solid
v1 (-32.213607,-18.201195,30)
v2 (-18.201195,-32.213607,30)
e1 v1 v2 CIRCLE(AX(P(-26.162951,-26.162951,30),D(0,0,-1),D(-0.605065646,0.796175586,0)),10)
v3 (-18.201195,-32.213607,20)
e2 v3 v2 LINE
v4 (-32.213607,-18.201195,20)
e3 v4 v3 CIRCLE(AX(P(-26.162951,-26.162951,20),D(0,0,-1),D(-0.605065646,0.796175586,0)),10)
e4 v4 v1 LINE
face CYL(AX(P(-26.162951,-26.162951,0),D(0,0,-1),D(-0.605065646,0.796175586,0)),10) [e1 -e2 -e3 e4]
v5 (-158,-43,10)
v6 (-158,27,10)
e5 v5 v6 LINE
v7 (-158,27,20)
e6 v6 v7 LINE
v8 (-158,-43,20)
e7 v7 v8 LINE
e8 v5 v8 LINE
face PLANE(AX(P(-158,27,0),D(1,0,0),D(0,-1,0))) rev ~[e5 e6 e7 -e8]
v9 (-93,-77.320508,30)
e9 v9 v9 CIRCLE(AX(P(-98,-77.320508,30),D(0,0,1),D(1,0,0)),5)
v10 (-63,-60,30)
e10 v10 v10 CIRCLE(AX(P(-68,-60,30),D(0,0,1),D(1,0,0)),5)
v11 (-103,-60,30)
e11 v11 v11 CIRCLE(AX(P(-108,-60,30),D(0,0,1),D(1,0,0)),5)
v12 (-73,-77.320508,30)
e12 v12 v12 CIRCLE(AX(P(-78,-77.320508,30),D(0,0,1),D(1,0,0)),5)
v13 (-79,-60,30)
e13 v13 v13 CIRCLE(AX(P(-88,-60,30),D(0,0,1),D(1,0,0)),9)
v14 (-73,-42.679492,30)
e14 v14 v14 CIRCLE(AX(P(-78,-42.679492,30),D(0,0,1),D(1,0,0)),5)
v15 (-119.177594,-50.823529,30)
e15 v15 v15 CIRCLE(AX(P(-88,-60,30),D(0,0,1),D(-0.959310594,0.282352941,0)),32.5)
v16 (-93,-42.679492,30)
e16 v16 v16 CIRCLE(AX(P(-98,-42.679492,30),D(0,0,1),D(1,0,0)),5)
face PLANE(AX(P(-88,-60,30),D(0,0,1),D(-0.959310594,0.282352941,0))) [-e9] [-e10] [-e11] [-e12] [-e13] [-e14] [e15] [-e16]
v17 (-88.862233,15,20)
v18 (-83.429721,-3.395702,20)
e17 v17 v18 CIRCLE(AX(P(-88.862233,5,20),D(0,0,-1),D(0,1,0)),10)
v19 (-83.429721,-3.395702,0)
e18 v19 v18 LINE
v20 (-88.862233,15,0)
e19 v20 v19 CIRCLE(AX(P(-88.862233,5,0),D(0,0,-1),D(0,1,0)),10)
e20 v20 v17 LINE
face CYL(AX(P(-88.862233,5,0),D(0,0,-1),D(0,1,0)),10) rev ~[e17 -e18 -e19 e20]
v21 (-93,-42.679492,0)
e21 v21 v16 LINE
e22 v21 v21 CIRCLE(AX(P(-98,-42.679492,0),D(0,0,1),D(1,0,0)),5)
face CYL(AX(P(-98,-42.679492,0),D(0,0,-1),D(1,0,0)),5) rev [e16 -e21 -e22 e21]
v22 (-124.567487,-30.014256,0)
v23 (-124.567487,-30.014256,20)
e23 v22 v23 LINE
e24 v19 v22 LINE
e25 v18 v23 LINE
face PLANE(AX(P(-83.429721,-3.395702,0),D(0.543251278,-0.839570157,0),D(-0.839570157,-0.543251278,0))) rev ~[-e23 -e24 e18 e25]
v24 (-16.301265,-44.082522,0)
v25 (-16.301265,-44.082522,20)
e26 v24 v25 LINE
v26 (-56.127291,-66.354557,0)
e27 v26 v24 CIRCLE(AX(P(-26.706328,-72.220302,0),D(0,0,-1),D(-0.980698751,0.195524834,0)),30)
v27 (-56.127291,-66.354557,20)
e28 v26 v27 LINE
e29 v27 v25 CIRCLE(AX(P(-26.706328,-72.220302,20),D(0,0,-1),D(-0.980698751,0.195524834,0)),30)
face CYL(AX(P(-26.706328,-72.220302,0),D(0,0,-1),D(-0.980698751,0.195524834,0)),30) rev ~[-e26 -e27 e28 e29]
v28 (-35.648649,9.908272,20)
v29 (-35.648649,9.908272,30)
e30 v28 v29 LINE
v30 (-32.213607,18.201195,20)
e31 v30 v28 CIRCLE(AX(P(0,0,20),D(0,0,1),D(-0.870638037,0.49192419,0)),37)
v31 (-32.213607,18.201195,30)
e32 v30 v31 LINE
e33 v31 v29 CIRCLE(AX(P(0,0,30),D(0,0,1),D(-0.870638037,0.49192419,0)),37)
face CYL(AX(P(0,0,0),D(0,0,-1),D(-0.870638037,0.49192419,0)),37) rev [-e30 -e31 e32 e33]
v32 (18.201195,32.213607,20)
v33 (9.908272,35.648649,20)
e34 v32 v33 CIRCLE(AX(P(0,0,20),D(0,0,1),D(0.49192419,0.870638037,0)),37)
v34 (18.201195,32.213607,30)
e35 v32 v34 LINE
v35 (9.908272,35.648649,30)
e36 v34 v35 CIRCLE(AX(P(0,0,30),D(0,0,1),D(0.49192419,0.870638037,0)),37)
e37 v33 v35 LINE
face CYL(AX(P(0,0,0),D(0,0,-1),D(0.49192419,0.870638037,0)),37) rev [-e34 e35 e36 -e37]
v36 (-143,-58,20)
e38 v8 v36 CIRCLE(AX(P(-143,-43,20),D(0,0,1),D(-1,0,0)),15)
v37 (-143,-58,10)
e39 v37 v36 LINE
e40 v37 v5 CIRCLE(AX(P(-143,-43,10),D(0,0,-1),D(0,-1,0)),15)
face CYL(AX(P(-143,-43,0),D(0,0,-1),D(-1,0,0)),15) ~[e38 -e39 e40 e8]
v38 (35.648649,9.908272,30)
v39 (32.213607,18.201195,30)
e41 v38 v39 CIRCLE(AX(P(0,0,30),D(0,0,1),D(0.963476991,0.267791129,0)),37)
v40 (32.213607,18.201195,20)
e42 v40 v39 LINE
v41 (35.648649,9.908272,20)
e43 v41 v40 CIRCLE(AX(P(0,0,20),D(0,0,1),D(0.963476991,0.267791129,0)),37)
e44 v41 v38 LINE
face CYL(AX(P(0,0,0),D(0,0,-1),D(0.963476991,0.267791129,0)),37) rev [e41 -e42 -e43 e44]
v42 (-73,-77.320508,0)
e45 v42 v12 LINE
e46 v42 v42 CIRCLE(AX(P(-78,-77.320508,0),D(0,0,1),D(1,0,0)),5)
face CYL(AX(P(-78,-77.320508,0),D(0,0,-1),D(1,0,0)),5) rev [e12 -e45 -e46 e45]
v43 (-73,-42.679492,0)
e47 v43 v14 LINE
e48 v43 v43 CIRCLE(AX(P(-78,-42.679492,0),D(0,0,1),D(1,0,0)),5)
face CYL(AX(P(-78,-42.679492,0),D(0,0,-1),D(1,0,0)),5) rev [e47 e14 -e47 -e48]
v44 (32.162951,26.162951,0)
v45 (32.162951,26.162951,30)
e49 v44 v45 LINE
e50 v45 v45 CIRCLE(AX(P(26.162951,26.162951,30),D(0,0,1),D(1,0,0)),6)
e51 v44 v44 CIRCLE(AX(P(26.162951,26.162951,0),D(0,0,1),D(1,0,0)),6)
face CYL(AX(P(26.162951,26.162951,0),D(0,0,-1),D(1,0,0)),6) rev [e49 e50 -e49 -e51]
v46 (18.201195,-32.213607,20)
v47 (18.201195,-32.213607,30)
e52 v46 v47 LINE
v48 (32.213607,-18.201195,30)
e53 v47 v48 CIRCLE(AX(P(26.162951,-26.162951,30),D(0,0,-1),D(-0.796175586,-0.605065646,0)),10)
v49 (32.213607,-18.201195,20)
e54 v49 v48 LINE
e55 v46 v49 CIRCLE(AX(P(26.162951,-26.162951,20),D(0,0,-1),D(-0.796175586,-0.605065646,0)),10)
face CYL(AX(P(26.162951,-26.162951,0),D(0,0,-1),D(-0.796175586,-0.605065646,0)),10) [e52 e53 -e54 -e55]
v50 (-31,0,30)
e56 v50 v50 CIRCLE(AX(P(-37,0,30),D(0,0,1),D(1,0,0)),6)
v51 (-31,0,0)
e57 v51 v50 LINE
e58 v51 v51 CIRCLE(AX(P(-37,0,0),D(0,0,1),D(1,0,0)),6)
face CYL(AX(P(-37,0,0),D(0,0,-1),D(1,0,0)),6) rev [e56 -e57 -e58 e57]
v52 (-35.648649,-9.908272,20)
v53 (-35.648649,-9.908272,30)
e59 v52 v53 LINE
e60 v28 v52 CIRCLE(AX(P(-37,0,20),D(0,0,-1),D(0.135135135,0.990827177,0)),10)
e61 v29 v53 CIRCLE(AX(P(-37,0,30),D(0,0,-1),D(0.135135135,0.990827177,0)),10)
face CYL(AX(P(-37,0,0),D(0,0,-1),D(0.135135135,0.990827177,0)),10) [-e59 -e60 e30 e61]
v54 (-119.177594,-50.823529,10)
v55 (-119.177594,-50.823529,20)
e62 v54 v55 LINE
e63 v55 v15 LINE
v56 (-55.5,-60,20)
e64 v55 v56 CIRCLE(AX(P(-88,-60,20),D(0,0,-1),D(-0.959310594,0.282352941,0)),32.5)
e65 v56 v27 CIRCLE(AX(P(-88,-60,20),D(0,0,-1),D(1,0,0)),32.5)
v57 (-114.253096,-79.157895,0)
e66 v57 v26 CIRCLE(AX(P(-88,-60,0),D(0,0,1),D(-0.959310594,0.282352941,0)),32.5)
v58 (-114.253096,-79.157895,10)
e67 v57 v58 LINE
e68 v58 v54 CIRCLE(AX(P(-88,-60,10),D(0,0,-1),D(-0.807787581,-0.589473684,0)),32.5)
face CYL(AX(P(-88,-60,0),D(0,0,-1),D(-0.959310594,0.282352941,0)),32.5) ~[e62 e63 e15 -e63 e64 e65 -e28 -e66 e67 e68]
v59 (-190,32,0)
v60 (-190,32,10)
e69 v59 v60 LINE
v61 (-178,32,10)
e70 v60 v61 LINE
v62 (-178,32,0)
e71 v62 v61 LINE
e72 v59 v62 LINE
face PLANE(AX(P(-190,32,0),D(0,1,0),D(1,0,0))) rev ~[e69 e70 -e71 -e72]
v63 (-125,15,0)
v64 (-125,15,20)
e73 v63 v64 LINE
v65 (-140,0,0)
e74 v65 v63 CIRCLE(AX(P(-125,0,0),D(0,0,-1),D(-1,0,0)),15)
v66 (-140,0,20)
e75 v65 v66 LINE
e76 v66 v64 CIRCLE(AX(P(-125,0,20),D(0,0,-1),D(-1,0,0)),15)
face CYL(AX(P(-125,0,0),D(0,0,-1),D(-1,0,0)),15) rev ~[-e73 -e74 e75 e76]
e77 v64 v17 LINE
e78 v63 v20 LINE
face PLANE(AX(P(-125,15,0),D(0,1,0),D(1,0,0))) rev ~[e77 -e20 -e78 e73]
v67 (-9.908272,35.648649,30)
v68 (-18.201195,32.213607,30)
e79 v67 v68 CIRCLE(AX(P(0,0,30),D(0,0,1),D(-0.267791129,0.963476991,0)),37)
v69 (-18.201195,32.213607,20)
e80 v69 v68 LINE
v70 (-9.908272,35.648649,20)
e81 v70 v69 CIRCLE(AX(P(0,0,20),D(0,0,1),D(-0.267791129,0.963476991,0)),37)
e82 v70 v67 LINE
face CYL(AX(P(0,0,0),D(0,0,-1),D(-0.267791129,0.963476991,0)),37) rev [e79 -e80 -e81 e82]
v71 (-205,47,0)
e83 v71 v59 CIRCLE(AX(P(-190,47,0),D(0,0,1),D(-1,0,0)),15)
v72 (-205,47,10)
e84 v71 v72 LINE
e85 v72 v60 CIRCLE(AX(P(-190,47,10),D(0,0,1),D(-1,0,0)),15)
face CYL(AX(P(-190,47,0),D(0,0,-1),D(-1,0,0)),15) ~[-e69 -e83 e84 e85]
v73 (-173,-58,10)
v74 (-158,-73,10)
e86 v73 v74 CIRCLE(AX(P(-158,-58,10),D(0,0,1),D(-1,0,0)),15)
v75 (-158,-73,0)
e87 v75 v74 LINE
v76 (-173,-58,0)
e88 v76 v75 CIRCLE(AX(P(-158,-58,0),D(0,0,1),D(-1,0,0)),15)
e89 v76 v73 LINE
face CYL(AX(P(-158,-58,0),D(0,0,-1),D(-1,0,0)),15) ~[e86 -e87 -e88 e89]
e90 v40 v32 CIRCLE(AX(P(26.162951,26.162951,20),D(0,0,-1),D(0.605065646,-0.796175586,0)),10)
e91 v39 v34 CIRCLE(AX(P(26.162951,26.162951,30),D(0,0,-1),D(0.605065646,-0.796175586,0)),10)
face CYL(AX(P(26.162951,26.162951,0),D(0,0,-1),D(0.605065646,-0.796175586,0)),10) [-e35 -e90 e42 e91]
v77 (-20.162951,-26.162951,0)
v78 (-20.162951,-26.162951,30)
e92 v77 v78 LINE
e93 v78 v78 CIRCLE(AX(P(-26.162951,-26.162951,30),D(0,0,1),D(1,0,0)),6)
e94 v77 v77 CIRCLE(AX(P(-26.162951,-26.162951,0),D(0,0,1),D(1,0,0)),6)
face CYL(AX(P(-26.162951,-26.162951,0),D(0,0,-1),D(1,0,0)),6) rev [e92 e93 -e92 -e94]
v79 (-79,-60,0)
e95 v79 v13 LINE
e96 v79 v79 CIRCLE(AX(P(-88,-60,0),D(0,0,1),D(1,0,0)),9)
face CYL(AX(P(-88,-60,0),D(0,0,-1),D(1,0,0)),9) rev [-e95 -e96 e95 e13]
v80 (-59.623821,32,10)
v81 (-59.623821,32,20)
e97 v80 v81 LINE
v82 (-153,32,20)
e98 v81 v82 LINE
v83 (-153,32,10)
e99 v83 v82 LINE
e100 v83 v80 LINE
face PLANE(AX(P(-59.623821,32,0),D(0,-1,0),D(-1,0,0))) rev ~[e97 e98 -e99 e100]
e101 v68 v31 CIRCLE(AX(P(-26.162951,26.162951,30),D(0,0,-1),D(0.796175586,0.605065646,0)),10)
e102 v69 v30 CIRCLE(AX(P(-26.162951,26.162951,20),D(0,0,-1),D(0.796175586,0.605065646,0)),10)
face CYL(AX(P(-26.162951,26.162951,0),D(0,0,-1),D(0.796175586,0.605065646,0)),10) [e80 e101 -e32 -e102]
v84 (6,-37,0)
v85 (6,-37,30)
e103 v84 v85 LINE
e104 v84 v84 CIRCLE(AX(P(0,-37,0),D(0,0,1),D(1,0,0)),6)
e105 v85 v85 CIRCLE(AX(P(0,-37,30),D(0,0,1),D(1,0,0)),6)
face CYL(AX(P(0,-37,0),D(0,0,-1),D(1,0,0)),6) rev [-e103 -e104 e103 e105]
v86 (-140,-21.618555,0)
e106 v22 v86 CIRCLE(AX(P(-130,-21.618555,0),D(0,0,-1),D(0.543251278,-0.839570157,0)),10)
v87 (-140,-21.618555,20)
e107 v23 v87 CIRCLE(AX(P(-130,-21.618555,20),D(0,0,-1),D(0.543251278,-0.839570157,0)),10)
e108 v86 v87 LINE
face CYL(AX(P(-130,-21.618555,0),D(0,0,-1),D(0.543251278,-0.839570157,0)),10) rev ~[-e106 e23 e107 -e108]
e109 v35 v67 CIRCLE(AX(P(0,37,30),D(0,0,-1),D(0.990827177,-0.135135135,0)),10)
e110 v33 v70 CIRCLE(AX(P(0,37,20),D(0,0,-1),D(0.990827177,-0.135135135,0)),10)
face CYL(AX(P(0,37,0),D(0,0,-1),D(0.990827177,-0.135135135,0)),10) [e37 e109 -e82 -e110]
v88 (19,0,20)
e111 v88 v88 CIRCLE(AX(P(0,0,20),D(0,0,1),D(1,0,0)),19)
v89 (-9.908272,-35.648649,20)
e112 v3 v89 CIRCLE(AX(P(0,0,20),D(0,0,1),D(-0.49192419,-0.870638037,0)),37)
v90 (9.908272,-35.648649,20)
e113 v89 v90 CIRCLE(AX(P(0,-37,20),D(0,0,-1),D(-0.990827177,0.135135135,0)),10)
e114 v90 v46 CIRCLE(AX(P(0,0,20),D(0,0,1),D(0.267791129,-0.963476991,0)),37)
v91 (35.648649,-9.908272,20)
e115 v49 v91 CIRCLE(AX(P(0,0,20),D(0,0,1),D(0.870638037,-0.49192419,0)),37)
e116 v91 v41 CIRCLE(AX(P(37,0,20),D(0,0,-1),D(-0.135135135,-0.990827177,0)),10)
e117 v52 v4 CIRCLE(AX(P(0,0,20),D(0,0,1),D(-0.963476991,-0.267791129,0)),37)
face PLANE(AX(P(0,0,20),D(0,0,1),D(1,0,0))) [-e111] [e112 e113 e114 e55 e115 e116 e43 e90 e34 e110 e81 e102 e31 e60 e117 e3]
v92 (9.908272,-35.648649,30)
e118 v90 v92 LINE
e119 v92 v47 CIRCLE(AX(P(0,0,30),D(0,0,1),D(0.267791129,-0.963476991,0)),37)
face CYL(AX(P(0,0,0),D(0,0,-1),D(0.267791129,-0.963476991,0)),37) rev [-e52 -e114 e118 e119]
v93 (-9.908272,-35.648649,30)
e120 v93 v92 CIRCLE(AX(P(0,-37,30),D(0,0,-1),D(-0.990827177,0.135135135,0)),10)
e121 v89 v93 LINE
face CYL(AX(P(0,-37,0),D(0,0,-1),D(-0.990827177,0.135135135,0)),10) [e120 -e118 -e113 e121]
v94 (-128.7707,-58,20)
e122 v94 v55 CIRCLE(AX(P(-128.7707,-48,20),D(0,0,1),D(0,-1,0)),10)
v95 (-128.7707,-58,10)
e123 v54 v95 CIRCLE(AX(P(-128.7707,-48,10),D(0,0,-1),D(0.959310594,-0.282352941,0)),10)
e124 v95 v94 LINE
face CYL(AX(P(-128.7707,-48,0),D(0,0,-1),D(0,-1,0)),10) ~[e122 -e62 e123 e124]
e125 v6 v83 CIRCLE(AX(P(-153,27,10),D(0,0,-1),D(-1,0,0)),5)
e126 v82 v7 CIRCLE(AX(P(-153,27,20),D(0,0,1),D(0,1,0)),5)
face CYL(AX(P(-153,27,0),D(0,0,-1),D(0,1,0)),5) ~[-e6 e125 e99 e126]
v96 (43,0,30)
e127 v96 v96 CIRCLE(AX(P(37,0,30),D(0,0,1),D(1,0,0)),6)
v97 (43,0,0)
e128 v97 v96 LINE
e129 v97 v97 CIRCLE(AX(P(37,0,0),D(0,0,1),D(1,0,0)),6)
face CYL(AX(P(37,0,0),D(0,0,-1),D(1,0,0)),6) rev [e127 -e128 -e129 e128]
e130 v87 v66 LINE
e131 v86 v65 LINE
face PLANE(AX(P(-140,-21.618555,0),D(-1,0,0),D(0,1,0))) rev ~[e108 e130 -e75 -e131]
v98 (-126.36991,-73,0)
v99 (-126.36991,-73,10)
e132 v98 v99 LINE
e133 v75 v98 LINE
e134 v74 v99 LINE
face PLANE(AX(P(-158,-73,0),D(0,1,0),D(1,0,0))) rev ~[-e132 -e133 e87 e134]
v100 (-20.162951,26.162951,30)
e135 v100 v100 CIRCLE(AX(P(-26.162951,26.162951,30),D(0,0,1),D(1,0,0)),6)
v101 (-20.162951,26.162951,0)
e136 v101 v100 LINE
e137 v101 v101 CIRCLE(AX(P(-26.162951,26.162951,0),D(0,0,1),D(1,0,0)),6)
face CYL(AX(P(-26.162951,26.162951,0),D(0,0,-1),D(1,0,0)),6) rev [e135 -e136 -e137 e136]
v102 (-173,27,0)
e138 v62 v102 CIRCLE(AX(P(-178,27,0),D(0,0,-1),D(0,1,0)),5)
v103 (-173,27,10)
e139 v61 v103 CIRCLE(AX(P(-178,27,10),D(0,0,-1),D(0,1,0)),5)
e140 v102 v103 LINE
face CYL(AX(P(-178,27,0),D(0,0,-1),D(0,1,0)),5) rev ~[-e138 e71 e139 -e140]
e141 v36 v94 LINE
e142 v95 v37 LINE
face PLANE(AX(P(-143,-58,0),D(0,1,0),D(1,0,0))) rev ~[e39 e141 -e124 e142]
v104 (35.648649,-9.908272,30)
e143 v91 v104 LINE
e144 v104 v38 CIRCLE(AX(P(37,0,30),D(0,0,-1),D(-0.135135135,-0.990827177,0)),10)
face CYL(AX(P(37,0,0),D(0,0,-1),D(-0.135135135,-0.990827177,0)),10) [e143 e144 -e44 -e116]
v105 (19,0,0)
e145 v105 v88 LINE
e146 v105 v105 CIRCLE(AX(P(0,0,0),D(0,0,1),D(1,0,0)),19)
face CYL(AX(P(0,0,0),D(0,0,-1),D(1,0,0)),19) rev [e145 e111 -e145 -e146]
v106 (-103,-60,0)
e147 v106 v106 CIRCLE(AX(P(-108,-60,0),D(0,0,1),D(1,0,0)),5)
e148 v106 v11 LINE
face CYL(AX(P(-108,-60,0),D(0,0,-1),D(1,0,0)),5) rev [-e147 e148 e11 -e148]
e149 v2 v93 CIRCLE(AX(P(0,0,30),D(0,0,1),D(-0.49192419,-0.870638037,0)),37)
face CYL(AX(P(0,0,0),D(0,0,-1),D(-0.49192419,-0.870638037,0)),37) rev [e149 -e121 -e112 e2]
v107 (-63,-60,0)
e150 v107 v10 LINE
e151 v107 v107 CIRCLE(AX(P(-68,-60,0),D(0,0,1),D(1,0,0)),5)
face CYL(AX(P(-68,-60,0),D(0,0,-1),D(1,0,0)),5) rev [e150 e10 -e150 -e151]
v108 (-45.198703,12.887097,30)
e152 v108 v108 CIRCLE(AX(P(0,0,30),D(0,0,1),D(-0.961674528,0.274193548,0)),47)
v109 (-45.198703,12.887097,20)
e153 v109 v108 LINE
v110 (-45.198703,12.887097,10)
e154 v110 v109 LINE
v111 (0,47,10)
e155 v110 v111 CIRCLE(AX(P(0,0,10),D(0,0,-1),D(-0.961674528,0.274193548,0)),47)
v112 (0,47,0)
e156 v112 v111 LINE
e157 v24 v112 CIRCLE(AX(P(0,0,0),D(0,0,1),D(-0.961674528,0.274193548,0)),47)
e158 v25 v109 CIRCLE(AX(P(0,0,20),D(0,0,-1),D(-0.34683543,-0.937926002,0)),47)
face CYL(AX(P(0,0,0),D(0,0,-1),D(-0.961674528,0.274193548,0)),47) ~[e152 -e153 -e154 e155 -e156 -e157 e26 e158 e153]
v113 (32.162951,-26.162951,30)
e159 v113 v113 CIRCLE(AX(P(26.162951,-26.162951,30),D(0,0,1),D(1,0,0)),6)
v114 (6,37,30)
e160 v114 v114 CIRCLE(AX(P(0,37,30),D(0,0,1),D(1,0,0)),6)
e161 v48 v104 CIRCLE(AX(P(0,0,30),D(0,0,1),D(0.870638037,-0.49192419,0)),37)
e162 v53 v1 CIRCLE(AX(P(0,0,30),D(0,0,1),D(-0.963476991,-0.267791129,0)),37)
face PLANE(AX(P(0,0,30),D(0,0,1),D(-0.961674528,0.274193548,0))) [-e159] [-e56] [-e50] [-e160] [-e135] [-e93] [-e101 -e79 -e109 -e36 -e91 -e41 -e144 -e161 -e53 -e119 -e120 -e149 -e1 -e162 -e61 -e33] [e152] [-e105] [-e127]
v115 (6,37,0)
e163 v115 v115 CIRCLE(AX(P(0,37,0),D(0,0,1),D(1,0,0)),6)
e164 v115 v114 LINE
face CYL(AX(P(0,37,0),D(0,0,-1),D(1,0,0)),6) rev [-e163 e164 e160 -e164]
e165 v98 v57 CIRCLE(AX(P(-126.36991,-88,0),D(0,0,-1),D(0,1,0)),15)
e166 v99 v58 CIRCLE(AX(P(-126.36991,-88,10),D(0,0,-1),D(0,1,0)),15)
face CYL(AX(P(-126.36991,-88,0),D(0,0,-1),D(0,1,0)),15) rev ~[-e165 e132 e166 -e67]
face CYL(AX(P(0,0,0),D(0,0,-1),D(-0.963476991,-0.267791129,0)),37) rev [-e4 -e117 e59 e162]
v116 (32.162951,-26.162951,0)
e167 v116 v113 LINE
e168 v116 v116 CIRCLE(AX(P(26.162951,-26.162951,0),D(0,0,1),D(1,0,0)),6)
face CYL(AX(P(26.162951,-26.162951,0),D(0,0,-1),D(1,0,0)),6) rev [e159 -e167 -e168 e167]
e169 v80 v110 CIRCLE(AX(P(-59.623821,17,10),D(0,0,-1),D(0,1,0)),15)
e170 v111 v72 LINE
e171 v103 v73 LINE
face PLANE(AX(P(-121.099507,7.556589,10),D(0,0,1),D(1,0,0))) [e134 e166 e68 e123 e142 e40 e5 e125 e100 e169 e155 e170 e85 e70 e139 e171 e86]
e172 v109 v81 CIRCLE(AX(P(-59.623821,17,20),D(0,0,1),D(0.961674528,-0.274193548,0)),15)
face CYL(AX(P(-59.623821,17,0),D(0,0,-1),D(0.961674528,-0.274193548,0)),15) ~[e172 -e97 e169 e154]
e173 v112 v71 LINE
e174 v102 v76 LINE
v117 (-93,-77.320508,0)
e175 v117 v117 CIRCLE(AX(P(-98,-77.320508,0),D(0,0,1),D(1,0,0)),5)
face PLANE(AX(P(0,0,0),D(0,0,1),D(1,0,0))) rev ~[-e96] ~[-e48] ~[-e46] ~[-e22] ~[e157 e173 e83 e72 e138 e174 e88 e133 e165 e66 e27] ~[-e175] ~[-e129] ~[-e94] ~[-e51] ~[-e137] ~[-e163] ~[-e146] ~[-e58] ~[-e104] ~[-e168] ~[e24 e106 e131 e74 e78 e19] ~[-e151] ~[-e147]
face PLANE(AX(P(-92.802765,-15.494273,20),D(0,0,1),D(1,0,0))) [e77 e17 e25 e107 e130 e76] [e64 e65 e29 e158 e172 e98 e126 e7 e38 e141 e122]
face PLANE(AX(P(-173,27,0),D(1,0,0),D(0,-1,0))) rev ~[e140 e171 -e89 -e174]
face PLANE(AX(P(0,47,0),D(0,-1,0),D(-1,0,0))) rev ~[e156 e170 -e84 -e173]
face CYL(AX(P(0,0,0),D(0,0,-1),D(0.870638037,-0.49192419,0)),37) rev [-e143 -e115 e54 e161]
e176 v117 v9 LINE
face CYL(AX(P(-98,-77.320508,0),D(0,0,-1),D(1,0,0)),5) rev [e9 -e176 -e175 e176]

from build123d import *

# Parameters (mm, degrees)
EXTRUDE_1_DEPTH = 10
EXTRUDE_2_DEPTH = 20
SKETCH_1_4_R    = 47
SKETCH_1_4_R_2  = 6
SKETCH_1_4_R_3  = 32.5
SKETCH_1_4_R_4  = 5
SKETCH_1_4_R_5  = 9
EXTRUDE_3_DEPTH = 30
SKETCH_1_5_R    = 19
EXTRUDE_4_DEPTH = 20


with BuildPart() as part:
    # Эскиз1 → Бобышка-Вытянуть1 (new body)
    with BuildSketch(Plane.XY):
        with BuildLine():
            ThreePointArc((-45.198702821, 12.887096774), (-28.313481344, 37.514620806), (0, 47))
            Line((0, 47), (-205, 47))
            ThreePointArc((-205, 47), (-200.606601718, 36.393398282), (-190, 32))
            Line((-190, 32), (-178, 32))
            ThreePointArc((-178, 32), (-174.464466094, 30.535533906), (-173, 27))
            Line((-173, 27), (-173, -58))
            ThreePointArc((-173, -58), (-168.606601718, -68.606601718), (-158, -73))
            Line((-158, -73), (-126.369910086, -73))
            ThreePointArc((-126.369910086, -73), (-119.574013491, -74.627797882), (-114.253096375, -79.157894737))
            ThreePointArc((-114.253096375, -79.157894737), (-120.019995674, -65.565058581), (-119.177594319, -50.823529412))
            ThreePointArc((-119.177594319, -50.823529412), (-122.780512208, -56.007349565), (-128.770700264, -58))
            Line((-128.770700264, -58), (-143, -58))
            ThreePointArc((-143, -58), (-153.606601718, -53.606601718), (-158, -43))
            Line((-158, -43), (-158, 27))
            ThreePointArc((-158, 27), (-156.535533906, 30.535533906), (-153, 32))
            Line((-153, 32), (-59.623820743, 32))
            ThreePointArc((-59.623820743, 32), (-47.651069422, 26.03621745), (-45.198702821, 12.887096774))
        make_face()
    extrude(amount=EXTRUDE_1_DEPTH)

    # Эскиз1<3> → Бобышка-Вытянуть2 (add)
    with BuildSketch(Plane.XY):
        with BuildLine():
            ThreePointArc((-16.3012652, -44.08252208), (-41.915938314, -21.261564271), (-45.198702821, 12.887096774))
            ThreePointArc((-45.198702821, 12.887096774), (-47.651069422, 26.03621745), (-59.623820743, 32))
            Line((-59.623820743, 32), (-153, 32))
            ThreePointArc((-153, 32), (-156.535533906, 30.535533906), (-158, 27))
            Line((-158, 27), (-158, -43))
            ThreePointArc((-158, -43), (-153.606601718, -53.606601718), (-143, -58))
            Line((-143, -58), (-128.770700264, -58))
            ThreePointArc((-128.770700264, -58), (-122.780512208, -56.007349565), (-119.177594319, -50.823529412))
            ThreePointArc((-119.177594319, -50.823529412), (-83.364367108, -27.832300242), (-55.5, -60))
            ThreePointArc((-55.5, -60), (-55.657202848, -63.192721783), (-56.127290608, -66.354557108))
            ThreePointArc((-56.127290608, -66.354557108), (-41.349141883, -46.036566638), (-16.3012652, -44.08252208))
        make_face()
        with BuildLine():
            ThreePointArc((-88.862233392, 15), (-79.271690766, 7.832223886), (-83.429720611, -3.395701572))
            Line((-83.429720611, -3.395701572), (-124.567487218, -30.014256435))
            ThreePointArc((-124.567487218, -30.014256435), (-134.77885301, -30.402777306), (-140, -21.618554864))
            Line((-140, -21.618554864), (-140, 0))
            ThreePointArc((-140, 0), (-135.606601718, 10.606601718), (-125, 15))
            Line((-125, 15), (-88.862233392, 15))
        make_face(mode=Mode.SUBTRACT)
    extrude(amount=EXTRUDE_2_DEPTH)

    # Эскиз1<4> → Бобышка-Вытянуть3 (add)
    # profile 1 of 2: a face of its own
    with BuildSketch(Plane.XY):
        Circle(SKETCH_1_4_R)
        with Locations((-26.162950904, -26.162950904)):
            Circle(SKETCH_1_4_R_2, mode=Mode.SUBTRACT)
        with Locations((0, -37)):
            Circle(SKETCH_1_4_R_2, mode=Mode.SUBTRACT)
        with Locations((26.162950904, -26.162950904)):
            Circle(SKETCH_1_4_R_2, mode=Mode.SUBTRACT)
        with Locations((-37, 0)):
            Circle(SKETCH_1_4_R_2, mode=Mode.SUBTRACT)
        with BuildLine():
            ThreePointArc((-32.21360736, 18.201195039), (-19.091883092, 19.091883092), (-18.201195039, 32.21360736))
            ThreePointArc((-18.201195039, 32.21360736), (-14.159286998, 34.183542703), (-9.908271773, 35.648648649))
            ThreePointArc((-9.908271773, 35.648648649), (0, 27), (9.908271773, 35.648648649))
            ThreePointArc((9.908271773, 35.648648649), (14.159286998, 34.183542703), (18.201195039, 32.21360736))
            ThreePointArc((18.201195039, 32.21360736), (19.091883092, 19.091883092), (32.21360736, 18.201195039))
            ThreePointArc((32.21360736, 18.201195039), (34.183542703, 14.159286998), (35.648648649, 9.908271773))
            ThreePointArc((35.648648649, 9.908271773), (27, 0), (35.648648649, -9.908271773))
            ThreePointArc((35.648648649, -9.908271773), (34.183542703, -14.159286998), (32.21360736, -18.201195039))
            ThreePointArc((32.21360736, -18.201195039), (19.091883092, -19.091883092), (18.201195039, -32.21360736))
            ThreePointArc((18.201195039, -32.21360736), (14.159286998, -34.183542703), (9.908271773, -35.648648649))
            ThreePointArc((9.908271773, -35.648648649), (0, -27), (-9.908271773, -35.648648649))
            ThreePointArc((-9.908271773, -35.648648649), (-14.159286998, -34.183542703), (-18.201195039, -32.21360736))
            ThreePointArc((-18.201195039, -32.21360736), (-19.091883092, -19.091883092), (-32.21360736, -18.201195039))
            ThreePointArc((-32.21360736, -18.201195039), (-34.183542703, -14.159286998), (-35.648648649, -9.908271773))
            ThreePointArc((-35.648648649, -9.908271773), (-27, 0), (-35.648648649, 9.908271773))
            ThreePointArc((-35.648648649, 9.908271773), (-34.183542703, 14.159286998), (-32.21360736, 18.201195039))
        make_face(mode=Mode.SUBTRACT)
        with Locations((37, 0)):
            Circle(SKETCH_1_4_R_2, mode=Mode.SUBTRACT)
        with Locations((-26.162950904, 26.162950904)):
            Circle(SKETCH_1_4_R_2, mode=Mode.SUBTRACT)
        with Locations((26.162950904, 26.162950904)):
            Circle(SKETCH_1_4_R_2, mode=Mode.SUBTRACT)
        with Locations((0, 37)):
            Circle(SKETCH_1_4_R_2, mode=Mode.SUBTRACT)
    # profile 2 of 2: a face of its own
    with BuildSketch(Plane.XY):
        with Locations((-88, -60)):
            Circle(SKETCH_1_4_R_3)
        with Locations((-98, -77.320508076)):
            Circle(SKETCH_1_4_R_4, mode=Mode.SUBTRACT)
        with Locations((-108, -60)):
            Circle(SKETCH_1_4_R_4, mode=Mode.SUBTRACT)
        with Locations((-88, -60)):
            Circle(SKETCH_1_4_R_5, mode=Mode.SUBTRACT)
        with Locations((-98, -42.679491924)):
            Circle(SKETCH_1_4_R_4, mode=Mode.SUBTRACT)
        with Locations((-78, -77.320508076)):
            Circle(SKETCH_1_4_R_4, mode=Mode.SUBTRACT)
        with Locations((-68, -60)):
            Circle(SKETCH_1_4_R_4, mode=Mode.SUBTRACT)
        with Locations((-78, -42.679491924)):
            Circle(SKETCH_1_4_R_4, mode=Mode.SUBTRACT)
    extrude(amount=EXTRUDE_3_DEPTH)

    # Эскиз1<5> → Бобышка-Вытянуть4 (add)
    with BuildSketch(Plane.XY):
        with BuildLine():
            ThreePointArc((-9.908271773, 35.648648649), (-14.159286998, 34.183542703), (-18.201195039, 32.21360736))
            ThreePointArc((-18.201195039, 32.21360736), (-19.091883092, 19.091883092), (-32.21360736, 18.201195039))
            ThreePointArc((-32.21360736, 18.201195039), (-34.183542703, 14.159286998), (-35.648648649, 9.908271773))
            ThreePointArc((-35.648648649, 9.908271773), (-27, 0), (-35.648648649, -9.908271773))
            ThreePointArc((-35.648648649, -9.908271773), (-34.183542703, -14.159286998), (-32.21360736, -18.201195039))
            ThreePointArc((-32.21360736, -18.201195039), (-19.091883092, -19.091883092), (-18.201195039, -32.21360736))
            ThreePointArc((-18.201195039, -32.21360736), (-14.159286998, -34.183542703), (-9.908271773, -35.648648649))
            ThreePointArc((-9.908271773, -35.648648649), (0, -27), (9.908271773, -35.648648649))
            ThreePointArc((9.908271773, -35.648648649), (14.159286998, -34.183542703), (18.201195039, -32.21360736))
            ThreePointArc((18.201195039, -32.21360736), (19.091883092, -19.091883092), (32.21360736, -18.201195039))
            ThreePointArc((32.21360736, -18.201195039), (34.183542703, -14.159286998), (35.648648649, -9.908271773))
            ThreePointArc((35.648648649, -9.908271773), (27, 0), (35.648648649, 9.908271773))
            ThreePointArc((35.648648649, 9.908271773), (34.183542703, 14.159286998), (32.21360736, 18.201195039))
            ThreePointArc((32.21360736, 18.201195039), (19.091883092, 19.091883092), (18.201195039, 32.21360736))
            ThreePointArc((18.201195039, 32.21360736), (14.159286998, 34.183542703), (9.908271773, 35.648648649))
            ThreePointArc((9.908271773, 35.648648649), (0, 27), (-9.908271773, 35.648648649))
        make_face()
        Circle(SKETCH_1_5_R, mode=Mode.SUBTRACT)
    extrude(amount=EXTRUDE_4_DEPTH)


solid = part.part
